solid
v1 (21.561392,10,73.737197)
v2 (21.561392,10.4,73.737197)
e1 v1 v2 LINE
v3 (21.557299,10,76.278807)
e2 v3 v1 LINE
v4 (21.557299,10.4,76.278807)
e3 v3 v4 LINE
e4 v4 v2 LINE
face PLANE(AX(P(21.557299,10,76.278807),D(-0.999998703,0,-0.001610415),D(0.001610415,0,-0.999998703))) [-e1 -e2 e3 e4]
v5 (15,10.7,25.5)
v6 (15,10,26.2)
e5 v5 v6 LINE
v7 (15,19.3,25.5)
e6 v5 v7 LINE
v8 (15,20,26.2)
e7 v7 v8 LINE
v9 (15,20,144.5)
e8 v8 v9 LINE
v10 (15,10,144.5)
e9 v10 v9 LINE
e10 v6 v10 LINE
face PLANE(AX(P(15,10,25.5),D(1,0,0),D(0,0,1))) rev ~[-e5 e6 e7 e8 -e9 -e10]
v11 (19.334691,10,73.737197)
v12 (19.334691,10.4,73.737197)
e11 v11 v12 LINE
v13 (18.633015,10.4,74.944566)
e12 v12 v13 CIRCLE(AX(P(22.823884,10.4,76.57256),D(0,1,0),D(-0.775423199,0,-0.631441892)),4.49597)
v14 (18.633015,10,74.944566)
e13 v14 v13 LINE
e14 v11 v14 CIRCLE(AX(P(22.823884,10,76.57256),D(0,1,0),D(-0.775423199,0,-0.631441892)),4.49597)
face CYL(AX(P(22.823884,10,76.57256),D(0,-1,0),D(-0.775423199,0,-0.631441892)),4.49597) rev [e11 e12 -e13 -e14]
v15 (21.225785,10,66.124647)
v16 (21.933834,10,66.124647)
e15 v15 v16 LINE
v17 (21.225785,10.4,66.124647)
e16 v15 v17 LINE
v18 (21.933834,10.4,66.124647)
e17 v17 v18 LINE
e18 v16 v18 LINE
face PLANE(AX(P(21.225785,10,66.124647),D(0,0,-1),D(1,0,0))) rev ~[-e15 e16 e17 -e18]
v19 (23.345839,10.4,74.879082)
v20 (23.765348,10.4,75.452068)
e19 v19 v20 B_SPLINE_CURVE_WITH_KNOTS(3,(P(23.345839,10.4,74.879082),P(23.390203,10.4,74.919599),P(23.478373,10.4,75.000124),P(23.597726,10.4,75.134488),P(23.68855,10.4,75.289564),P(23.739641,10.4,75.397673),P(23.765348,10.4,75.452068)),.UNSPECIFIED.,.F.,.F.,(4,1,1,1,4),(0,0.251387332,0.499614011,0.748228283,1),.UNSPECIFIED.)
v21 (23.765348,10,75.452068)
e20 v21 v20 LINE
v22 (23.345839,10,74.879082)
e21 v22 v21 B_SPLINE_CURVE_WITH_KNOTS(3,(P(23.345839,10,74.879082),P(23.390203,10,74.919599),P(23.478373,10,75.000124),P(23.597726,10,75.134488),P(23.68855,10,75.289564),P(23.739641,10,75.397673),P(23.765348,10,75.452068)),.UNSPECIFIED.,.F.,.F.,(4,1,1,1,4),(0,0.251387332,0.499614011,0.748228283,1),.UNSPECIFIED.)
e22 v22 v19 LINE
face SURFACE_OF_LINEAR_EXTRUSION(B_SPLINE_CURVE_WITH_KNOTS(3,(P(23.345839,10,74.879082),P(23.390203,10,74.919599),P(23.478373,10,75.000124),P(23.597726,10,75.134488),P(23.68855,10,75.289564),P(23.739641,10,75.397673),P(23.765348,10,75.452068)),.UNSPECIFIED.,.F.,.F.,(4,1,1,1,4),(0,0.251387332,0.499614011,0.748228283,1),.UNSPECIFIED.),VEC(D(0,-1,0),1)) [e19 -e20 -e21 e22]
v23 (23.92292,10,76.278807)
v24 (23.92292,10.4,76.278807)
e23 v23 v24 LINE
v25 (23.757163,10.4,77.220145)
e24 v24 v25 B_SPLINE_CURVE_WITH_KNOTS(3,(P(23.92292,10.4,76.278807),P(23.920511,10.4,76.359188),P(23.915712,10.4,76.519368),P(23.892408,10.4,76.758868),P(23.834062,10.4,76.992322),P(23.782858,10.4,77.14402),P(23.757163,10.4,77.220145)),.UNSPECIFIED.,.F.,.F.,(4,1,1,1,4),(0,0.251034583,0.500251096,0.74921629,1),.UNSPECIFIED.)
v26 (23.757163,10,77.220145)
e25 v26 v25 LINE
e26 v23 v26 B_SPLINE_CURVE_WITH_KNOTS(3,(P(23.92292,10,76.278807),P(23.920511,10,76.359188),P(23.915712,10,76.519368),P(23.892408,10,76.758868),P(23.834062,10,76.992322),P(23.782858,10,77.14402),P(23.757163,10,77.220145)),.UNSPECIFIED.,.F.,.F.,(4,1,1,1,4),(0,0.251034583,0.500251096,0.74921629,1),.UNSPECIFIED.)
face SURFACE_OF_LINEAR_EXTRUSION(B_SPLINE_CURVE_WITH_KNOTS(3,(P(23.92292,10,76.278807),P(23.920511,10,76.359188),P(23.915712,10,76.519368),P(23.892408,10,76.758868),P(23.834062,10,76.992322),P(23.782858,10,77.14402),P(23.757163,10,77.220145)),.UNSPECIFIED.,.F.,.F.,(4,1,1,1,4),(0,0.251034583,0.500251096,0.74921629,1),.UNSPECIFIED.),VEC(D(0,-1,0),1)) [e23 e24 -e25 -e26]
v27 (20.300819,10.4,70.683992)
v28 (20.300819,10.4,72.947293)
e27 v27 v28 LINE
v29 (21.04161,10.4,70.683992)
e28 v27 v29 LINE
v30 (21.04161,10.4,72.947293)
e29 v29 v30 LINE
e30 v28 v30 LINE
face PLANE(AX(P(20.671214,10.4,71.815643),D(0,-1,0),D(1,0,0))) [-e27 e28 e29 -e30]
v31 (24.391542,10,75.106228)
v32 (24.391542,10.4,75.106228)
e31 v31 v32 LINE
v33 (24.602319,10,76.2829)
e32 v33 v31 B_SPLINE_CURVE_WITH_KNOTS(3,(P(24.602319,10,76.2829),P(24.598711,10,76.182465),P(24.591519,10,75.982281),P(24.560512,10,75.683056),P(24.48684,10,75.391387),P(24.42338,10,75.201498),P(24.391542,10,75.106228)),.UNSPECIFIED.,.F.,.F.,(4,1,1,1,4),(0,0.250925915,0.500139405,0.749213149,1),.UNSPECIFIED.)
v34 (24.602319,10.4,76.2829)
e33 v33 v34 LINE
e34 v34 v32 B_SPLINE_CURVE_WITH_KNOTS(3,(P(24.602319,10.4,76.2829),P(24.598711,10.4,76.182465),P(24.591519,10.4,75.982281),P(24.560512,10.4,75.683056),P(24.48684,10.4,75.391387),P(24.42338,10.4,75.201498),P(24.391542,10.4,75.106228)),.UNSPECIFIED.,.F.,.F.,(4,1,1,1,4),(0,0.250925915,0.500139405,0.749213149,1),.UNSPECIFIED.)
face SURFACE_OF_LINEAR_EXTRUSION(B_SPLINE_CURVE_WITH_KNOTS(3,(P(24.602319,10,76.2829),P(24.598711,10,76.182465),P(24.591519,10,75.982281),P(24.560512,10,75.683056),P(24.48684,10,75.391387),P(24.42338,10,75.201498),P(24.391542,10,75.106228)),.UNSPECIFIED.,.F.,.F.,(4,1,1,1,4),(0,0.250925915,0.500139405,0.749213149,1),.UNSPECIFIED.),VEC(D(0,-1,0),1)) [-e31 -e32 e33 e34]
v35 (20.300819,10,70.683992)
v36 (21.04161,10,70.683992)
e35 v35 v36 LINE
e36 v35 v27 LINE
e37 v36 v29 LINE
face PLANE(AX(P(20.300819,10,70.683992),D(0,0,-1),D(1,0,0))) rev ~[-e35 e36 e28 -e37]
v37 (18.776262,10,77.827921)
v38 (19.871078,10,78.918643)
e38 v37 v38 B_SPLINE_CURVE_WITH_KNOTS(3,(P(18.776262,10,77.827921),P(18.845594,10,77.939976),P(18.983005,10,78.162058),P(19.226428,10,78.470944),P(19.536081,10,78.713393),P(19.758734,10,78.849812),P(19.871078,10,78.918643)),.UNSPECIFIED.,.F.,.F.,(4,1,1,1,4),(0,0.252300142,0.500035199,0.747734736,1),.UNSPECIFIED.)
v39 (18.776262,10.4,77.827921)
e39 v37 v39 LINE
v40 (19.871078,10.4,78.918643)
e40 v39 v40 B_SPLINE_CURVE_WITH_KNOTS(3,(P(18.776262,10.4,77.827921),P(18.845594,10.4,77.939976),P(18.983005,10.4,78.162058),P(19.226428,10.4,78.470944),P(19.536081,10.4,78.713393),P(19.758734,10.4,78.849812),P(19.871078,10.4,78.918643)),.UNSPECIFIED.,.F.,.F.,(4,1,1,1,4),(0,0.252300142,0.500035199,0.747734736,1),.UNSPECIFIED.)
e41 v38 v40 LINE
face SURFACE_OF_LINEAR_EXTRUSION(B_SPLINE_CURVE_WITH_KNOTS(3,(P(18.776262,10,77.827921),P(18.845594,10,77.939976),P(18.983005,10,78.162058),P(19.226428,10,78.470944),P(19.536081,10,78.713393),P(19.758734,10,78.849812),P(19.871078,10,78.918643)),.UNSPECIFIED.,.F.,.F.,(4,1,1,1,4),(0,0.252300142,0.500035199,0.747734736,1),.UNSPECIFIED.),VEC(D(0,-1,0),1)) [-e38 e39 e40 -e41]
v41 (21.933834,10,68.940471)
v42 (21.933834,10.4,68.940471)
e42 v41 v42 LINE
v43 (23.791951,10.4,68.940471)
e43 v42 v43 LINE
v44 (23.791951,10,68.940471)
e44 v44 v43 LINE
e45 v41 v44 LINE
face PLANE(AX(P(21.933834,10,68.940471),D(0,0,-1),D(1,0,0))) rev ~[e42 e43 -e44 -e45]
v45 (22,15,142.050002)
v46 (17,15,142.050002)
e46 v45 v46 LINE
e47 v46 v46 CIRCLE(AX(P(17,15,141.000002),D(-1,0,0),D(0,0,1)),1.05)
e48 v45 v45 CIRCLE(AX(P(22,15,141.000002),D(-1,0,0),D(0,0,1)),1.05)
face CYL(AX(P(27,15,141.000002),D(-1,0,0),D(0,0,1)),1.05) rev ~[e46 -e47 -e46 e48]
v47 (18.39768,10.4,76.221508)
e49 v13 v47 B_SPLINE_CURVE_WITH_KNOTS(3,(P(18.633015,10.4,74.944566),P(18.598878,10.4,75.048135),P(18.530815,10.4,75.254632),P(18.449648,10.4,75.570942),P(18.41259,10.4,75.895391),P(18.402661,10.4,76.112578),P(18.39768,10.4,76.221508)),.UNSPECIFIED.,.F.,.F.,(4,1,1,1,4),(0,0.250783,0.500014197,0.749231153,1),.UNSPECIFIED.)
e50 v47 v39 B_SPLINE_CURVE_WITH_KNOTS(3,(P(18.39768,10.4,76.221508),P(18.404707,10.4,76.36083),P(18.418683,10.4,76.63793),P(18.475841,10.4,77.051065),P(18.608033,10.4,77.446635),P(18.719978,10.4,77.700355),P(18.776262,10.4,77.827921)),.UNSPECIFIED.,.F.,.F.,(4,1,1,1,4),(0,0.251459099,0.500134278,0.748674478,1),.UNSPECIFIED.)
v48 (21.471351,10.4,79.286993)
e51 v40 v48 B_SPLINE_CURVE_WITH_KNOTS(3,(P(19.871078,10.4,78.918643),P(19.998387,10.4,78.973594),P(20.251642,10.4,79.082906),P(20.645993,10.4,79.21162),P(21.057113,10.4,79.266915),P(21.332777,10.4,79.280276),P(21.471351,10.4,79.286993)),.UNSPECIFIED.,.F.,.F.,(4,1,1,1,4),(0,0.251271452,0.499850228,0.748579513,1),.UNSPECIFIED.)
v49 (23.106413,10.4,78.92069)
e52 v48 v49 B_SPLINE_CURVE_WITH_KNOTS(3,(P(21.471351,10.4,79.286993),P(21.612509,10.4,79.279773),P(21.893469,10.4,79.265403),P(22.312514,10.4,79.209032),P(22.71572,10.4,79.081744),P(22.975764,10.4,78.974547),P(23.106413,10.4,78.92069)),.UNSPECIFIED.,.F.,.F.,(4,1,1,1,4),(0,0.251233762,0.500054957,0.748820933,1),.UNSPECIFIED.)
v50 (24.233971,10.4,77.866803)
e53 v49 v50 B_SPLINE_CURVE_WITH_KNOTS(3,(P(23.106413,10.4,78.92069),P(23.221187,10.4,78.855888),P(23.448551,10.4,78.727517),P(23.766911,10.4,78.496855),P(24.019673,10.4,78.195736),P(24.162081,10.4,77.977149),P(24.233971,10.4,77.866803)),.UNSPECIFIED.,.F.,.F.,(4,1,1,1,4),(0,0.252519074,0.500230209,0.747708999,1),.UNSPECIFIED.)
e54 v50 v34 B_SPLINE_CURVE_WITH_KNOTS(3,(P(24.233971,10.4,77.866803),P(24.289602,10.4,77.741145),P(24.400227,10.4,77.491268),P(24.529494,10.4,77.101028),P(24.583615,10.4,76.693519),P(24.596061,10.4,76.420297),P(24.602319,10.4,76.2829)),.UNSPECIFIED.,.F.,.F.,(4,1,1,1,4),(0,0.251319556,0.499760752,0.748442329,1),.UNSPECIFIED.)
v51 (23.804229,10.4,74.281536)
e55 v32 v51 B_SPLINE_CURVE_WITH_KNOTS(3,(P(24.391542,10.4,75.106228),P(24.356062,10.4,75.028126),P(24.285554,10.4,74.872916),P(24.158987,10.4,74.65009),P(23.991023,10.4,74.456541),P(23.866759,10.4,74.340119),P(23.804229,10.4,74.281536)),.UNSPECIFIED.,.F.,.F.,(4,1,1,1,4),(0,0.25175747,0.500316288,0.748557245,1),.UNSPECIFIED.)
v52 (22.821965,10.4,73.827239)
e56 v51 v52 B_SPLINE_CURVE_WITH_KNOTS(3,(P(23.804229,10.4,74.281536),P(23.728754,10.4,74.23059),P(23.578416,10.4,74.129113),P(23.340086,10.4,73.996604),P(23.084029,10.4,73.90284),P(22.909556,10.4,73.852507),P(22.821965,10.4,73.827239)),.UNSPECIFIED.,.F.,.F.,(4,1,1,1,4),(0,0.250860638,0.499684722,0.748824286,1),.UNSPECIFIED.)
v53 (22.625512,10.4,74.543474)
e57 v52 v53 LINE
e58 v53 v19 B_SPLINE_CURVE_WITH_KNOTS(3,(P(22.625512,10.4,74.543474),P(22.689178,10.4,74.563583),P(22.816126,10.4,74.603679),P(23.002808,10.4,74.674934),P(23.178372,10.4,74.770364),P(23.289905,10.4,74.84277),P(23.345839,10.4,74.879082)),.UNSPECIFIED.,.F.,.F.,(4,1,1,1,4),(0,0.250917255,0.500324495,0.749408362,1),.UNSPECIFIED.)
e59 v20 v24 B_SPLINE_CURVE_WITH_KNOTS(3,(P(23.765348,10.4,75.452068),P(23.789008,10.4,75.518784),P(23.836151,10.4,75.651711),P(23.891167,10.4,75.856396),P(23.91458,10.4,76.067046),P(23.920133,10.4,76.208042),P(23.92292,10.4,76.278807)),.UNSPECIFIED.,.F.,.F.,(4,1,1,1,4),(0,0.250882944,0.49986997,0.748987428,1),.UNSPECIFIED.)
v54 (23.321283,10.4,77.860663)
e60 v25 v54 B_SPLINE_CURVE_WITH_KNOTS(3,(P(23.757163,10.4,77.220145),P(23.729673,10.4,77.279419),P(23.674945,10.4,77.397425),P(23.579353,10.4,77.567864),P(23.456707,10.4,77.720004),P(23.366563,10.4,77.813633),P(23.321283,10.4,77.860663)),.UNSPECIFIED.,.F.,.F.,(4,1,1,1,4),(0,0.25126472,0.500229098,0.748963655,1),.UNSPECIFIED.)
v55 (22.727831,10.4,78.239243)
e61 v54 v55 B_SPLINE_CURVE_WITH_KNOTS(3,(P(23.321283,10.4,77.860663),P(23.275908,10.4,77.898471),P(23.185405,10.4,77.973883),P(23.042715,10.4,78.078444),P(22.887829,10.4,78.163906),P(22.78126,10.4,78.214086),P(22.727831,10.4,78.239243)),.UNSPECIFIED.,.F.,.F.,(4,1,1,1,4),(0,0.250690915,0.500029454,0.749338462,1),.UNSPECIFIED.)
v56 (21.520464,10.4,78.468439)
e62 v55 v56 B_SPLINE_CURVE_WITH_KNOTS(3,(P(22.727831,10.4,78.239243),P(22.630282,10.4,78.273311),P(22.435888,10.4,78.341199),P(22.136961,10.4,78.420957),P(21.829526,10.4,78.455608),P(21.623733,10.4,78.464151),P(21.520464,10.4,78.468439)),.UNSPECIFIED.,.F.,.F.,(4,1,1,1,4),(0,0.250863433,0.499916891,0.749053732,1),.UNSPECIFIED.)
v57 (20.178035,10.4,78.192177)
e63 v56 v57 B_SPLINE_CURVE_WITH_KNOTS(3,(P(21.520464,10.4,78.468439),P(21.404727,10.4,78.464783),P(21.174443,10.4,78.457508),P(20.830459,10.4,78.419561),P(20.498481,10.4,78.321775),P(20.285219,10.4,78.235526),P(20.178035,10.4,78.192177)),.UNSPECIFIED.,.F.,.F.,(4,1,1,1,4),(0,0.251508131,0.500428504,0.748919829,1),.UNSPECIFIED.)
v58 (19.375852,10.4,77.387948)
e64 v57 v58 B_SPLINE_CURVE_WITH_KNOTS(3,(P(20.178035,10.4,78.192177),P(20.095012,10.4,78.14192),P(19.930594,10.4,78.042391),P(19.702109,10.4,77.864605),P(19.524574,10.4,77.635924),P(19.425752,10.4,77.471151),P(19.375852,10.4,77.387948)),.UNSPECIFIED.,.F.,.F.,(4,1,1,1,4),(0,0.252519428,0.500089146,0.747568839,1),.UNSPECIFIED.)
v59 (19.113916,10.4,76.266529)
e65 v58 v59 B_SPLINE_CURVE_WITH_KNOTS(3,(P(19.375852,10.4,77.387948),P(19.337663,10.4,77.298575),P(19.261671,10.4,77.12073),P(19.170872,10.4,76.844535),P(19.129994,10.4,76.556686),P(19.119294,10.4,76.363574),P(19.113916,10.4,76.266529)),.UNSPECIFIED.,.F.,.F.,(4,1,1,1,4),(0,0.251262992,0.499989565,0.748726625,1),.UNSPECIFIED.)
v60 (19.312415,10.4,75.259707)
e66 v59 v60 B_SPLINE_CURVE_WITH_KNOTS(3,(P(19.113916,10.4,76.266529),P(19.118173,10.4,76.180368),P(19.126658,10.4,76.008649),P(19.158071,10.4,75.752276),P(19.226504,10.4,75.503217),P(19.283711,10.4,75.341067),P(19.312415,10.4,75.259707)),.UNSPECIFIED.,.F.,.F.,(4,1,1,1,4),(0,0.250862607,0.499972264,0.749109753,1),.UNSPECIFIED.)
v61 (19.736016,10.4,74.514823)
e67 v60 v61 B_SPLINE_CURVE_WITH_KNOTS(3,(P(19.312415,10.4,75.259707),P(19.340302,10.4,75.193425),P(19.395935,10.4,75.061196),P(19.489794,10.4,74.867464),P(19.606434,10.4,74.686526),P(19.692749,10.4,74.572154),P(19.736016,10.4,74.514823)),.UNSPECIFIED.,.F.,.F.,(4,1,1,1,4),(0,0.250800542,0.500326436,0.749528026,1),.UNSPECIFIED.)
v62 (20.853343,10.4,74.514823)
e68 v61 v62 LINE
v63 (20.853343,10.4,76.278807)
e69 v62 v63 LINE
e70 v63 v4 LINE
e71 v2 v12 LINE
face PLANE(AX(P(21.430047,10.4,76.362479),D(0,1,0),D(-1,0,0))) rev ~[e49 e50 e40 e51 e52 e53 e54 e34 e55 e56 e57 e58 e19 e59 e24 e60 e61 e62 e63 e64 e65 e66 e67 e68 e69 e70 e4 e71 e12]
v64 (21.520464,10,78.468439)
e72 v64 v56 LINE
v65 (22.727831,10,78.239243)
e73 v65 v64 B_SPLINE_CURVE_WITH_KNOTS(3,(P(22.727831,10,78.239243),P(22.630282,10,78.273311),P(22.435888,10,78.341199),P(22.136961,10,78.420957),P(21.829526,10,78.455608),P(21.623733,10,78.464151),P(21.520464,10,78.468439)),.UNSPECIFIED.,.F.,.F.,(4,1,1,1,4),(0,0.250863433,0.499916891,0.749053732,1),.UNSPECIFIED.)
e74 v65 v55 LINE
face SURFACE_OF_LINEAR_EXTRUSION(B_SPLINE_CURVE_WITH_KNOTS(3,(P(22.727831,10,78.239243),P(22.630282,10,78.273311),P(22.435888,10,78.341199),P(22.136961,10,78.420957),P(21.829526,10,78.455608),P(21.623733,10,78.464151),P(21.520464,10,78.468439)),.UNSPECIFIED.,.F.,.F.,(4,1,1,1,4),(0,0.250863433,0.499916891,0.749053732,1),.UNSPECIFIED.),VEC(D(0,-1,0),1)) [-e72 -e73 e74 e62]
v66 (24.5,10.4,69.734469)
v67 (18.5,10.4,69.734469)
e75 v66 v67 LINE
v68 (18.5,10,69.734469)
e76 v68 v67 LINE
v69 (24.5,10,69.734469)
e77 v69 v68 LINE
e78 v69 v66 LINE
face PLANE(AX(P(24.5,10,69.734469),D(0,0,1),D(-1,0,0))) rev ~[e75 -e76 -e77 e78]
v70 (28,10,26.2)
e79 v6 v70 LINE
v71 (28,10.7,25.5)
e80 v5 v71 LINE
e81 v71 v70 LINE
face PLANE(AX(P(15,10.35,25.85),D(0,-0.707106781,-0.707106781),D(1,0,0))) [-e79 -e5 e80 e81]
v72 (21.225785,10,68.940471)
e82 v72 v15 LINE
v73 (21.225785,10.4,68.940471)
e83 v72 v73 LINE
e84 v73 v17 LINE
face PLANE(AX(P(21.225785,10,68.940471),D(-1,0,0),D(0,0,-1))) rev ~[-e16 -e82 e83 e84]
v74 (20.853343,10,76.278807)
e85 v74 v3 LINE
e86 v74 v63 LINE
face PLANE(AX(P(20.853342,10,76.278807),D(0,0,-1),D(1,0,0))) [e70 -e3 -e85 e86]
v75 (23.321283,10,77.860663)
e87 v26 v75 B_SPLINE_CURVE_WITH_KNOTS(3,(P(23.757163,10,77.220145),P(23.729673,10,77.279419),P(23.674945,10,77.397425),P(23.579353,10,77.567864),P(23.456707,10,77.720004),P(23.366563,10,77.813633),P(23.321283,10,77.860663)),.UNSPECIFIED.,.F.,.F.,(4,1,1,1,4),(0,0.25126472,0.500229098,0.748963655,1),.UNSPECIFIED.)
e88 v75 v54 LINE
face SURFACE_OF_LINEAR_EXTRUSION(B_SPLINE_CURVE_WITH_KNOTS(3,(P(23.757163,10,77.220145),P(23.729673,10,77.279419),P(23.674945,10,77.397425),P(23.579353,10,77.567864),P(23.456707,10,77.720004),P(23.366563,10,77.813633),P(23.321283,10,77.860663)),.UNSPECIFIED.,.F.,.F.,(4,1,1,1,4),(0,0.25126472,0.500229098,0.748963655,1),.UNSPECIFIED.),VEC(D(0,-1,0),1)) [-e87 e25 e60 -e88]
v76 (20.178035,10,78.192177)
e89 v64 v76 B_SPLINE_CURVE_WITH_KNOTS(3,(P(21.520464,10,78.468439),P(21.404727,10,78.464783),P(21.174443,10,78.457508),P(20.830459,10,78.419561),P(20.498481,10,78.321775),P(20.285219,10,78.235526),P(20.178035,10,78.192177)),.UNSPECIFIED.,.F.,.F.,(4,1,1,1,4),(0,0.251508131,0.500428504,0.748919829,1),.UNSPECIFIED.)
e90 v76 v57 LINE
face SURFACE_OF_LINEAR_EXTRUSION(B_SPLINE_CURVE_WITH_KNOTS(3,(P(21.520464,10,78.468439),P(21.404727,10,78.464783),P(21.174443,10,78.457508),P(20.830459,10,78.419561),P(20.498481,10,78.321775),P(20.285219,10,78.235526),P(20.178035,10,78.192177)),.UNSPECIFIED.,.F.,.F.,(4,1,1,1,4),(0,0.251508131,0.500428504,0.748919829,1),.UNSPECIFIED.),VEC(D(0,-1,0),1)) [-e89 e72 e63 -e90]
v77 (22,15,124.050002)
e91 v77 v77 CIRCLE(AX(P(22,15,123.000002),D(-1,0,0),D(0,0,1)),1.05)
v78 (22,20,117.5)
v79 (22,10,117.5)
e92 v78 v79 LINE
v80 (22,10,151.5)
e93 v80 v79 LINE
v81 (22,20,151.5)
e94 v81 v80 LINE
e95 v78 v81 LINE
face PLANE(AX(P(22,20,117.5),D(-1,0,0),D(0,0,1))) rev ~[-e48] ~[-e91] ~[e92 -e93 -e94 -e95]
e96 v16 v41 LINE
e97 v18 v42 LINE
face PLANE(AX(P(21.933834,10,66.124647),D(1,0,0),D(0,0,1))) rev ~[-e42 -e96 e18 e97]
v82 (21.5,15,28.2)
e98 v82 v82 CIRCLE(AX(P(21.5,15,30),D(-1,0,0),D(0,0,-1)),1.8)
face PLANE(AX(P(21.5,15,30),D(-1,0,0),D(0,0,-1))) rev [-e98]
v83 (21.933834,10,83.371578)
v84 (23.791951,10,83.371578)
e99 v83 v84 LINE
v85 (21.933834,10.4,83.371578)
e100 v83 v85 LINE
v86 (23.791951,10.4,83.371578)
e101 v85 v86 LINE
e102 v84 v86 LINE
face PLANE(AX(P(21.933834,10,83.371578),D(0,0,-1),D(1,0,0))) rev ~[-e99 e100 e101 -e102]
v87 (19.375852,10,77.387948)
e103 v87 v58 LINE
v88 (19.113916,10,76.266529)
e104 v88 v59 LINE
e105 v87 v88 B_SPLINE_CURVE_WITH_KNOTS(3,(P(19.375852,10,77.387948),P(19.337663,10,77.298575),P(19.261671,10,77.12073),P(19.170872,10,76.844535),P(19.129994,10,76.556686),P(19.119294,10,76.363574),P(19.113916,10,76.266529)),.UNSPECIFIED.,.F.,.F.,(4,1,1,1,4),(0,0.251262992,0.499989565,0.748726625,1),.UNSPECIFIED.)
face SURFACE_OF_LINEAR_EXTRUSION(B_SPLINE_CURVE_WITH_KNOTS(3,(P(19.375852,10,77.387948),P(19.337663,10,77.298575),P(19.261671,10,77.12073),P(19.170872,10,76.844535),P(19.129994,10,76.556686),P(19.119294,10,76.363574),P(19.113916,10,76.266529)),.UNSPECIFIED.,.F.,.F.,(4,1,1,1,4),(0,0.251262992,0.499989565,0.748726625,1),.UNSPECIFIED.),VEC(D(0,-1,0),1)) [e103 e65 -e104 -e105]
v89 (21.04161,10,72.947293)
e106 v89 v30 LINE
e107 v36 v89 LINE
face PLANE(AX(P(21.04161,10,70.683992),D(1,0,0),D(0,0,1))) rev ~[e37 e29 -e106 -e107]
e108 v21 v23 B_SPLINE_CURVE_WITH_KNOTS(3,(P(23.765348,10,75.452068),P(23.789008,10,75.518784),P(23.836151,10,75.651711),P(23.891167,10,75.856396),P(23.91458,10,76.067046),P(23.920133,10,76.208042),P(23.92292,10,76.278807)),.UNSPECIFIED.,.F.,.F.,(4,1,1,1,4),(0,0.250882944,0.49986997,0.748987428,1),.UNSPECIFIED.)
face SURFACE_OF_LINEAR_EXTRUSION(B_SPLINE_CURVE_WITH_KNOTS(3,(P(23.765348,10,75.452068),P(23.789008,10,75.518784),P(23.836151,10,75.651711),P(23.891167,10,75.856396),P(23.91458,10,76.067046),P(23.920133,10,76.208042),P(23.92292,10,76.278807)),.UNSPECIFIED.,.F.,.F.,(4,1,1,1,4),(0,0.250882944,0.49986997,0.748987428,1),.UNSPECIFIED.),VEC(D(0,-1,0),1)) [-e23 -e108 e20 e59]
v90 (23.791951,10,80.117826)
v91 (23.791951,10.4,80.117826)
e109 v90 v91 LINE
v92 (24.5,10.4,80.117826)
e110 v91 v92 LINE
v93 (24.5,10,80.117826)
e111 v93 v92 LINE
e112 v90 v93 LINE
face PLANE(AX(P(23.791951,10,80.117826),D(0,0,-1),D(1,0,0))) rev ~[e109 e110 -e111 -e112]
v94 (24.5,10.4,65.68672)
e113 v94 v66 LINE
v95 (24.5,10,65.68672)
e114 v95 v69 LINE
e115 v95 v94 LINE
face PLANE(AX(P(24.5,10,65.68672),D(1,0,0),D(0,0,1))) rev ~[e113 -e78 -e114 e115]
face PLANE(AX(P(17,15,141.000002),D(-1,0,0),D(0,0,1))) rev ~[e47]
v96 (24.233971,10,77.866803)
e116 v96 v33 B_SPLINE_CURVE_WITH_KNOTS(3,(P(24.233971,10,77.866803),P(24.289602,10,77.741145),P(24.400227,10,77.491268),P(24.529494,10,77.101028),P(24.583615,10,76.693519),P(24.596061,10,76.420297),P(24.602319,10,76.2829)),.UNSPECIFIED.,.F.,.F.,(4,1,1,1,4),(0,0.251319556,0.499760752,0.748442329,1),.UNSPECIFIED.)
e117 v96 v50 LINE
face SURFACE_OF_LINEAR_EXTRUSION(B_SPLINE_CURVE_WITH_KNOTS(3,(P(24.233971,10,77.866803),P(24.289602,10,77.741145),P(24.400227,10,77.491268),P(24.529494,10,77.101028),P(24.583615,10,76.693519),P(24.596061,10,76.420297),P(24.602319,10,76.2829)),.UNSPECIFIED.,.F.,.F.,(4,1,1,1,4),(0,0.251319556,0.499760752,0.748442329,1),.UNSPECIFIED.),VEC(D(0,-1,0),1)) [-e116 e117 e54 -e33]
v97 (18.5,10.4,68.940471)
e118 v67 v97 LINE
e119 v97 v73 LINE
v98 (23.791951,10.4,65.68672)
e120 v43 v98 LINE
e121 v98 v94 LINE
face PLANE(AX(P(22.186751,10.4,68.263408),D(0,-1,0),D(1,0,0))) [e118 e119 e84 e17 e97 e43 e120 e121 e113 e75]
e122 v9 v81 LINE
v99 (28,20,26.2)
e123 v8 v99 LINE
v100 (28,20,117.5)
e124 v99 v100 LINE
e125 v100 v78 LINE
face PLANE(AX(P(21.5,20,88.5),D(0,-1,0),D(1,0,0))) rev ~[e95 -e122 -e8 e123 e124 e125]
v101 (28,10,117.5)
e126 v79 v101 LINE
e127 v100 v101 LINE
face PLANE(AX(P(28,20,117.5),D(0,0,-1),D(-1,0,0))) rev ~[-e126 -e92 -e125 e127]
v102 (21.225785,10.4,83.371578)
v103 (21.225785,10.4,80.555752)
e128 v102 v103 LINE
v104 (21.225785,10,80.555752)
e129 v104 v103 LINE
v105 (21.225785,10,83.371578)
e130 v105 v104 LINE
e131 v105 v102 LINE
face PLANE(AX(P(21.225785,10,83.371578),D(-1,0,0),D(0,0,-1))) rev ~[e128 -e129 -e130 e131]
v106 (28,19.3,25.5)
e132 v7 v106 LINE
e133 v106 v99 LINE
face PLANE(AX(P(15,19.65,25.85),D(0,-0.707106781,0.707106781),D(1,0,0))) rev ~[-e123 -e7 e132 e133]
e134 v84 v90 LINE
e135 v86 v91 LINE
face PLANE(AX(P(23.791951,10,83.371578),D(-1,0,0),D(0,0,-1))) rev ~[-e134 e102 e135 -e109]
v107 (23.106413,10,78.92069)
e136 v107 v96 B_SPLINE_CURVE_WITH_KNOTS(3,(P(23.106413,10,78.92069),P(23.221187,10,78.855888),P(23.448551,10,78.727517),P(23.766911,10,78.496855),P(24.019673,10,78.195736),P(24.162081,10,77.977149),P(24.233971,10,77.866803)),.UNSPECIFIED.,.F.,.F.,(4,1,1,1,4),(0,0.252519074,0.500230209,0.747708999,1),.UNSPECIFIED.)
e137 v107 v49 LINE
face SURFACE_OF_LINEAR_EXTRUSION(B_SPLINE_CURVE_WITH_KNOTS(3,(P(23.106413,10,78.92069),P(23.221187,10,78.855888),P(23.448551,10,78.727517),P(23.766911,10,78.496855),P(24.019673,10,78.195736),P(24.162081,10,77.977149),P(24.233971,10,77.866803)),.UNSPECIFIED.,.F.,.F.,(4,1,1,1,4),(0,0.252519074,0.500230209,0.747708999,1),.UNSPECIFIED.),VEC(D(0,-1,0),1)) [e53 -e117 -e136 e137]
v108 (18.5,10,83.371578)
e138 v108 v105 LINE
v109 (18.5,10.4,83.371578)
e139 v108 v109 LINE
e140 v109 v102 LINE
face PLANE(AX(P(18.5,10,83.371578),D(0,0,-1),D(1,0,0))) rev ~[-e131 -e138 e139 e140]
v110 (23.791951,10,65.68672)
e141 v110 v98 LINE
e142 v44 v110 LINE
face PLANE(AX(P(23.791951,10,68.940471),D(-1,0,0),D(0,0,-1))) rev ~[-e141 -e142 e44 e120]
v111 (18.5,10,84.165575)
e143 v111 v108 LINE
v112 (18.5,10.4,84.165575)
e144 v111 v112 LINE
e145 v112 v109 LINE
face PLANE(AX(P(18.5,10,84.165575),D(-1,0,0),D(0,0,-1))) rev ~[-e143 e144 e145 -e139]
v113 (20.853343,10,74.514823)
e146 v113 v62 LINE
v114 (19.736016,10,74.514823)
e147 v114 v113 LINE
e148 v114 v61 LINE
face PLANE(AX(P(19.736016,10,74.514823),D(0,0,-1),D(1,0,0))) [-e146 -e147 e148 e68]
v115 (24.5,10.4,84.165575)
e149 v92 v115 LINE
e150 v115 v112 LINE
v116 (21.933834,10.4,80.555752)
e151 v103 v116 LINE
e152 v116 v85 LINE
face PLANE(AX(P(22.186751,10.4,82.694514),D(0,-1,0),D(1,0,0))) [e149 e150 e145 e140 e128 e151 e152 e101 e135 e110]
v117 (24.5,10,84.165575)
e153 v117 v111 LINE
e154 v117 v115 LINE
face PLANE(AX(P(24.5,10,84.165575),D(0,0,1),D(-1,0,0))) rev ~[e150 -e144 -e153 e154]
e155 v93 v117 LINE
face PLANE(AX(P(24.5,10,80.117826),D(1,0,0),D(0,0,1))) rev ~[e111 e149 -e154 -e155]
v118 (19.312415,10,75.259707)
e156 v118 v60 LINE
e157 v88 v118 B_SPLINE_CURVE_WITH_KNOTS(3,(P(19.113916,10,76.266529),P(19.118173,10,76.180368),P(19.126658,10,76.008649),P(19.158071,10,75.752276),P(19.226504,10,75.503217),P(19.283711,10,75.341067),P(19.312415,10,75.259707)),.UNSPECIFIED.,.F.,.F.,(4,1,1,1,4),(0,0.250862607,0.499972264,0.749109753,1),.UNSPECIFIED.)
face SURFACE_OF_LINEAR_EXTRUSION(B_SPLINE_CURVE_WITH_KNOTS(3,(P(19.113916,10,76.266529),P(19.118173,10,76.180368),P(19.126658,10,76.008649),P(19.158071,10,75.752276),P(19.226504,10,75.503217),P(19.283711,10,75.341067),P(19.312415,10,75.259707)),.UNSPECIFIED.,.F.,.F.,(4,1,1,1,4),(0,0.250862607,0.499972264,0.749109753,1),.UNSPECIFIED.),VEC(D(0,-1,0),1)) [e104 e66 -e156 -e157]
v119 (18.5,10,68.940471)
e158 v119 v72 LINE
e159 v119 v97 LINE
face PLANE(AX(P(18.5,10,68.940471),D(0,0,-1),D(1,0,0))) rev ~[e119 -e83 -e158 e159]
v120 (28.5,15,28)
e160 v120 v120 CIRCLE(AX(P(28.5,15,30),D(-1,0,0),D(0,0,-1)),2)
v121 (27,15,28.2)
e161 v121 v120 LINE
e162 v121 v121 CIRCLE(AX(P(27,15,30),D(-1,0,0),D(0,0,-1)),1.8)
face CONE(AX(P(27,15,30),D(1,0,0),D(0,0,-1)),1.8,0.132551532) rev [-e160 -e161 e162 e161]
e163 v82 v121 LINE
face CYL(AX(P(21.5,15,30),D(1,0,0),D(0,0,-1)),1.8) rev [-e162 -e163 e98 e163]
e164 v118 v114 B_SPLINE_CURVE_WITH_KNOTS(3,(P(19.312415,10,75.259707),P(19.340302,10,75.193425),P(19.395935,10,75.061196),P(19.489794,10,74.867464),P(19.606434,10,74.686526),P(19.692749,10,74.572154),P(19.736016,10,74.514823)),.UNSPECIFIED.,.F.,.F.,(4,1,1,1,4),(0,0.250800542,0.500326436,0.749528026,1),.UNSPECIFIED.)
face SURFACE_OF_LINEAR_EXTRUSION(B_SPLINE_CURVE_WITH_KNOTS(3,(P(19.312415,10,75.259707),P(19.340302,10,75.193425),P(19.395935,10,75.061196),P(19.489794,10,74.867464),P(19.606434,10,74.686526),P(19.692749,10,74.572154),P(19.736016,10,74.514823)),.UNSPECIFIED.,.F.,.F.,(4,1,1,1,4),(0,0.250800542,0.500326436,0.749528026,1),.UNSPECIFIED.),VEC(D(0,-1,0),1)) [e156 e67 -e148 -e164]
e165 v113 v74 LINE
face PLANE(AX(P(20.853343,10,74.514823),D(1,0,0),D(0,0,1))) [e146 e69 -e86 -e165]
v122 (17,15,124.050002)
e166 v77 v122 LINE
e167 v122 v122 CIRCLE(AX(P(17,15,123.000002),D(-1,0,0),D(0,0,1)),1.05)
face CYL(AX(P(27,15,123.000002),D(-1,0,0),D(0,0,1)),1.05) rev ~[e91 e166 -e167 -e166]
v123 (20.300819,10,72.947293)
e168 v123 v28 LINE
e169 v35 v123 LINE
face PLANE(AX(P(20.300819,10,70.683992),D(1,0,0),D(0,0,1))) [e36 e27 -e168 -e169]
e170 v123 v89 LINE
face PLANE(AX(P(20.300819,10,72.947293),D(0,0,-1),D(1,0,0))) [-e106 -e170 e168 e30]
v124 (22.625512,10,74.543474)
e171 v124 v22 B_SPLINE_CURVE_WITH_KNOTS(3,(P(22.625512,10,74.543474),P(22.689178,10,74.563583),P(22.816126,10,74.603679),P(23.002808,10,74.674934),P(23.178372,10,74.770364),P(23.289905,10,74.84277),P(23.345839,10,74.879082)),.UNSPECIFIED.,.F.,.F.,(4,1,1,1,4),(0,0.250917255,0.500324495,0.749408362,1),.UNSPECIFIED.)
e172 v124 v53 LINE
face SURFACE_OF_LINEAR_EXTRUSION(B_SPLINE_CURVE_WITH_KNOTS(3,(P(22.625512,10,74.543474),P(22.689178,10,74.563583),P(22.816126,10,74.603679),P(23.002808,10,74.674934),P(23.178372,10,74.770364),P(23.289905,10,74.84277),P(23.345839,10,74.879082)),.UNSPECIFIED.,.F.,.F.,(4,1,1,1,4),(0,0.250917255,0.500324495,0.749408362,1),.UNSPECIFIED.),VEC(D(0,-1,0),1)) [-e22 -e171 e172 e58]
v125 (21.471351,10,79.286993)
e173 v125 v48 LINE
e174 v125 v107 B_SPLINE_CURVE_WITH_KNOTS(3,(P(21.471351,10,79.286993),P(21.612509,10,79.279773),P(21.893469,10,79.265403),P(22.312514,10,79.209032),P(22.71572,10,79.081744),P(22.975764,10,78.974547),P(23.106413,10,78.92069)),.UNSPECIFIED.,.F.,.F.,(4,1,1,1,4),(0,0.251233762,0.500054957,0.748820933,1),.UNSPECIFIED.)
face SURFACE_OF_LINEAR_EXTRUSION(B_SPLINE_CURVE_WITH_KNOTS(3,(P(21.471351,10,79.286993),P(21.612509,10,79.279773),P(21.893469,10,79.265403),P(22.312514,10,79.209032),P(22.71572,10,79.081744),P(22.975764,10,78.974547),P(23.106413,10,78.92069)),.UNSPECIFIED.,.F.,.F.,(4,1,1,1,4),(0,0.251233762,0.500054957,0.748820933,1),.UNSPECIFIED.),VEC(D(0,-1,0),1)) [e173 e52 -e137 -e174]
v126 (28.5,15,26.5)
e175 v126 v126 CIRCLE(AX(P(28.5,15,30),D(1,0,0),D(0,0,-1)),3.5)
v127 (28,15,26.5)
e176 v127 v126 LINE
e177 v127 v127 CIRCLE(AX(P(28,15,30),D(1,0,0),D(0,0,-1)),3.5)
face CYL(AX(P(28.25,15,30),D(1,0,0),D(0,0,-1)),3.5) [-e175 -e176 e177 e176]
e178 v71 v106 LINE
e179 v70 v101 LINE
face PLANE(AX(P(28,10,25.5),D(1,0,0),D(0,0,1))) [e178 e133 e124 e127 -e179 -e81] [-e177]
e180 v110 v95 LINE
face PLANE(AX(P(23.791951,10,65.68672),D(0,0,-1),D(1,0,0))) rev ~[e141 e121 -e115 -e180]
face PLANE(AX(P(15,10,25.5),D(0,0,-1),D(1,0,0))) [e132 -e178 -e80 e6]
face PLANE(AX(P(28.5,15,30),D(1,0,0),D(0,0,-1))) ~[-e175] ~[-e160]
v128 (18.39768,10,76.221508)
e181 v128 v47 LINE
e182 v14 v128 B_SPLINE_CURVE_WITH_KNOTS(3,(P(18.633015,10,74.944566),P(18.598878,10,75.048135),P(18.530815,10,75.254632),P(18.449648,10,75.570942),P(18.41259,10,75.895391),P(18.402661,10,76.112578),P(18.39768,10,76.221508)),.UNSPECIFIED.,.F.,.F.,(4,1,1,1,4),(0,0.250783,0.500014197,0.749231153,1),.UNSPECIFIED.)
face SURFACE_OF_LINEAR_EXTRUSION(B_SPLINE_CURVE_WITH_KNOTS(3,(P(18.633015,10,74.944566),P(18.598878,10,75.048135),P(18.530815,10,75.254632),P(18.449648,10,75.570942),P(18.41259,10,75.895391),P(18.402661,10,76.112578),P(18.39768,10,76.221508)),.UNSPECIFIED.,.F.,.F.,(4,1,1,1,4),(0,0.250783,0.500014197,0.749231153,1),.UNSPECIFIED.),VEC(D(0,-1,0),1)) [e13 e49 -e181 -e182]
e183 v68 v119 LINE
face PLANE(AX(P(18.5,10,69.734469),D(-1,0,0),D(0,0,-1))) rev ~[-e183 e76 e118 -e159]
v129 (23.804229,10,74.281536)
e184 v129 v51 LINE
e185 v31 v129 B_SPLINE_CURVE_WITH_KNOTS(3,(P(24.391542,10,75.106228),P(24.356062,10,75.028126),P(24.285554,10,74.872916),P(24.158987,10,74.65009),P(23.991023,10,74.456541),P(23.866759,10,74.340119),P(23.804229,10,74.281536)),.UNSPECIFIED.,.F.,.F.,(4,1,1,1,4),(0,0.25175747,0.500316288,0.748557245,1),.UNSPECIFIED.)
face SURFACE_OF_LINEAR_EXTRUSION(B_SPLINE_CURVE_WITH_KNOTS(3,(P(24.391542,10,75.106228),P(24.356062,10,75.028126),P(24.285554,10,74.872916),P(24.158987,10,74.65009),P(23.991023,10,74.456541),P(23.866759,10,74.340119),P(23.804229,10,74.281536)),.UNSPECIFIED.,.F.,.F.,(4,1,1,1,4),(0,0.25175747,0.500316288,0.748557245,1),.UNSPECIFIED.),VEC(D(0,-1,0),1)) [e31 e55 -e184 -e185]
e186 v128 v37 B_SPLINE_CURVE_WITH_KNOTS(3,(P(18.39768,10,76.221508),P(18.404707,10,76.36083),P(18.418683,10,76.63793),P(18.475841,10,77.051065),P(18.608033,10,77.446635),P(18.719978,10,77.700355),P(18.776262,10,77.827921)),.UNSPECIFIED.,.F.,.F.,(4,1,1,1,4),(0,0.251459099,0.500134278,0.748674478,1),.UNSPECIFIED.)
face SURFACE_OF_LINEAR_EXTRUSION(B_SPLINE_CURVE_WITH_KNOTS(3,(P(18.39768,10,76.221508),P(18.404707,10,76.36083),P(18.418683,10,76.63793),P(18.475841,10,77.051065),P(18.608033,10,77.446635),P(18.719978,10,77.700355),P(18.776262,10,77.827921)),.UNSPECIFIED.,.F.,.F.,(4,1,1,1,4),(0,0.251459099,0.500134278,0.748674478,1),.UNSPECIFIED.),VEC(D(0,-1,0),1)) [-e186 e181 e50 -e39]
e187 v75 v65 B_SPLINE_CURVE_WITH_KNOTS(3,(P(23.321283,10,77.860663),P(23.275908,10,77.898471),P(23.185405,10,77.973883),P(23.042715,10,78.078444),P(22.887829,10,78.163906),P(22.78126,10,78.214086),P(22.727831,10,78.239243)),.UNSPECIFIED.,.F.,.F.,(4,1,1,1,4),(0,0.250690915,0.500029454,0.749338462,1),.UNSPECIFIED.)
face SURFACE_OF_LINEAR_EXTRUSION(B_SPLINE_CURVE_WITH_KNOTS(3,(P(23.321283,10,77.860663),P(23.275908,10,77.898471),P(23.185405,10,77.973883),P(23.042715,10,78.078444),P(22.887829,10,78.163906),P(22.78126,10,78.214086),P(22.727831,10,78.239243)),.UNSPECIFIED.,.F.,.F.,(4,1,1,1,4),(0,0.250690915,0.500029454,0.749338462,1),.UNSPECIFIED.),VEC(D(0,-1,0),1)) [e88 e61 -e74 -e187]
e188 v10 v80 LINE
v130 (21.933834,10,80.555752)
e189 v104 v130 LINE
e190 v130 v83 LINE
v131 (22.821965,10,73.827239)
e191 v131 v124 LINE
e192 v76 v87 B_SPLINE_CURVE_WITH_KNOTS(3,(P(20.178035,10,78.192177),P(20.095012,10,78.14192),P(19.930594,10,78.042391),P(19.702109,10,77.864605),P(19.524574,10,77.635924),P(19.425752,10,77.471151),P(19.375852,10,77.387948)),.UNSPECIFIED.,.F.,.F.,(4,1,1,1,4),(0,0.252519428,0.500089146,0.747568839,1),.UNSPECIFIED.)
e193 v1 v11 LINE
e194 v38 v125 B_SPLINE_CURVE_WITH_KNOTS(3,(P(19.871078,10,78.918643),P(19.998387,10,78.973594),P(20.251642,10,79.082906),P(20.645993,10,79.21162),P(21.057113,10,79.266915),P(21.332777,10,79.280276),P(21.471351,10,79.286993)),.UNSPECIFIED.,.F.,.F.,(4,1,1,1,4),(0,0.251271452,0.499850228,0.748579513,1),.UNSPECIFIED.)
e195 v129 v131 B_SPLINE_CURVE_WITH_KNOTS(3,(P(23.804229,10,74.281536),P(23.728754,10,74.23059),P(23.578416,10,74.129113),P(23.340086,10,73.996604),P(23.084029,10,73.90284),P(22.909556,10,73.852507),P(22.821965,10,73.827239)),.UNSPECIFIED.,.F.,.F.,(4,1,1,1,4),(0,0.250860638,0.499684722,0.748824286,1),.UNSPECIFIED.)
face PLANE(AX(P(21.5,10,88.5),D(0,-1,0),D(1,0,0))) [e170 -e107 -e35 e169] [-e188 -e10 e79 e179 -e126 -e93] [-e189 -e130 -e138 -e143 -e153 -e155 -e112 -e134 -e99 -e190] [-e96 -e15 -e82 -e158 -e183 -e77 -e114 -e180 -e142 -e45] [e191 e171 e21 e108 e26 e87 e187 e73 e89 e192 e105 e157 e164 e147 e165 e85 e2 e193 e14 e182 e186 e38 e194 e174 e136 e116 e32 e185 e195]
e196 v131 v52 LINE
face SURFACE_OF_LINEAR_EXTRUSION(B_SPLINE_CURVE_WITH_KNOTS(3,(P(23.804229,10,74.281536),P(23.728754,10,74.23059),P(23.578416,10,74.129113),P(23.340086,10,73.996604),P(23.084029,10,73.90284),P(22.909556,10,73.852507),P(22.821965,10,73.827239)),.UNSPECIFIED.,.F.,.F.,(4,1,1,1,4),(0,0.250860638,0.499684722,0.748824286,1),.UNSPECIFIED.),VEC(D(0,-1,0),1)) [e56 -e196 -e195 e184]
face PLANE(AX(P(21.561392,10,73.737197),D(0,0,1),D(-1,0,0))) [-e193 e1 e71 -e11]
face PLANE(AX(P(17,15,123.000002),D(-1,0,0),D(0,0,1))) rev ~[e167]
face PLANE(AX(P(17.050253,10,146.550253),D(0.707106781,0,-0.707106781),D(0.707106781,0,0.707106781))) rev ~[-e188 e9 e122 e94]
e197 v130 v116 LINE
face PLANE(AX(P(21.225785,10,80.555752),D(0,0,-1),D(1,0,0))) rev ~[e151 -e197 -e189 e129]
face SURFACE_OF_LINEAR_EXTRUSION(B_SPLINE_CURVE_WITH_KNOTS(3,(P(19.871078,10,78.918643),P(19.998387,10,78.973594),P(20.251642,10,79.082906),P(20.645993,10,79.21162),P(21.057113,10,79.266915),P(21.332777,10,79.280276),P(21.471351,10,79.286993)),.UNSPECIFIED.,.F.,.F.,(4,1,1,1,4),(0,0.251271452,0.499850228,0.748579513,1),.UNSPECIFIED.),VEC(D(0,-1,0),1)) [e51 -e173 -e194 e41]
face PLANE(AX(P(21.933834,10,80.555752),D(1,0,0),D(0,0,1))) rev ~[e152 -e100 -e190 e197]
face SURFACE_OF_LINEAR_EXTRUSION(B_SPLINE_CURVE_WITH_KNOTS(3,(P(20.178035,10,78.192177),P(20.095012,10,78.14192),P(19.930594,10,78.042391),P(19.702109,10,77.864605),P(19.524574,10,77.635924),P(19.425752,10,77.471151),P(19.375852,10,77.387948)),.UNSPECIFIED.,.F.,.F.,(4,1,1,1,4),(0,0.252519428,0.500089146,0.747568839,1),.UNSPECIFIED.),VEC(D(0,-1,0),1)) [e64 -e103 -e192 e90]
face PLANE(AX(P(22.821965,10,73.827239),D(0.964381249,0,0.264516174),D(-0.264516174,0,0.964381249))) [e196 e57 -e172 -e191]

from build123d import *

# Parameters (mm, degrees)
ESQUISSE1_W                         = 13
ESQUISSE1_H                         = 126
BOSS_EXTRU_1_DEPTH                  = 10
ESQUISSE2_W                         = 6
ESQUISSE2_H                         = 34
ENL_V_MAT_EXTRU_1_DEPTH             = 155.389928428
ENL_V_START                         = 1.2
ENL_V_MAT_EXTRU_2_DEPTH             = 0.4
ENL_V_MAT_EXTRU_3_DEPTH             = 0.4
ENL_V_MAT_EXTRU_4_DEPTH             = 0.4
ESQUISSE6_W                         = 0.740791559
ESQUISSE6_H                         = 2.263300419
ENL_V_MAT_EXTRU_5_DEPTH             = 0.4
D_POUILLE1_ANGLE                    = -0.092269995
D_POUILLE2_ANGLE                    = 0.092269995
D_POUILLE3_ANGLE                    = -45
ESQUISSE7_W                         = 0.5
ESQUISSE7_H                         = 3.5
DIAM_TRE_DU_PER_AGE_2_1_2_1_1_D     = 2.1
DIAM_TRE_DU_PER_AGE_2_1_2_1_1_DEPTH = 5
CHANFREIN1_SIZE                     = 0.7


with BuildPart() as part:
    # Esquisse1 → Boss.-Extru.1 (new body)
    with BuildSketch(Plane.XZ.offset(-10)):
        with Locations((21.5, 88.5)):
            Rectangle(ESQUISSE1_W, ESQUISSE1_H)
    extrude(amount=-BOSS_EXTRU_1_DEPTH)

    # Esquisse2 → Enlèv. mat.-Extru.1 (cut, through all)
    with BuildSketch(Plane(origin=(0, 20, 0), x_dir=(-1, 0, 0), z_dir=(0, 1, 0))):
        with Locations((-25, 134.5)):
            Rectangle(ESQUISSE2_W, ESQUISSE2_H)
    extrude(amount=-ENL_V_MAT_EXTRU_1_DEPTH, mode=Mode.SUBTRACT)

    # Esquisse3 → Enlèv. mat.-Extru.2 (cut)
    with BuildSketch(Plane.XZ.offset(-11.2).offset(ENL_V_START)):
        with BuildLine():
            Line((20.853342891, 76.277673701), (21.557298779, 76.278807363))
            Line((21.557298779, 76.278807363), (21.56139183, 73.73719736))
            Line((21.56139183, 73.73719736), (19.337604377, 73.733616136))
            ThreePointArc((19.337604377, 73.733616136), (18.937851016, 74.311477162), (18.633015037, 74.944565734))
            add(Edge.make_bspline(
                [(18.633015037, 74.944565734), (18.598877989, 75.048134715), (18.530815128, 75.254631808), (18.449647927, 75.570941889), (18.41259048, 75.895390829), (18.402660702, 76.11257772), (18.397680402, 76.221508226)],
                knots=[0, 0, 0, 0, 0.250783, 0.500014197, 0.749231153, 1, 1, 1, 1], degree=3))
            add(Edge.make_bspline(
                [(18.397680402, 76.221508226), (18.404707316, 76.360829639), (18.418683348, 76.637930028), (18.475840729, 77.051065085), (18.608033081, 77.446634686), (18.719977562, 77.700354542), (18.776261687, 77.827921352)],
                knots=[0, 0, 0, 0, 0.251459099, 0.500134278, 0.748674478, 1, 1, 1, 1], degree=3))
            add(Edge.make_bspline(
                [(18.776261687, 77.827921352), (18.845594133, 77.939975948), (18.983004533, 78.16205764), (19.226428261, 78.470943979), (19.536080689, 78.713393436), (19.758734474, 78.849811508), (19.871078014, 78.918643436)],
                knots=[0, 0, 0, 0, 0.252300142, 0.500035199, 0.747734736, 1, 1, 1, 1], degree=3))
            add(Edge.make_bspline(
                [(19.871078014, 78.918643436), (19.998387452, 78.973593805), (20.251642055, 79.082905685), (20.645993091, 79.211619983), (21.057113166, 79.266914711), (21.332777469, 79.280276264), (21.471351266, 79.286992988)],
                knots=[0, 0, 0, 0, 0.251271452, 0.499850228, 0.748579513, 1, 1, 1, 1], degree=3))
            add(Edge.make_bspline(
                [(21.471351266, 79.286992988), (21.61250902, 79.279773241), (21.893469007, 79.265403078), (22.312514038, 79.209031831), (22.7157204, 79.081743941), (22.975763595, 78.974547289), (23.106412768, 78.920690259)],
                knots=[0, 0, 0, 0, 0.251233762, 0.500054957, 0.748820933, 1, 1, 1, 1], degree=3))
            add(Edge.make_bspline(
                [(23.106412768, 78.920690259), (23.221187424, 78.855887896), (23.448551437, 78.727517), (23.766911077, 78.49685491), (24.019672726, 78.19573618), (24.162080848, 77.977148745), (24.233970523, 77.866802654)],
                knots=[0, 0, 0, 0, 0.252519074, 0.500230209, 0.747708999, 1, 1, 1, 1], degree=3))
            add(Edge.make_bspline(
                [(24.233970523, 77.866802654), (24.289601824, 77.74114466), (24.400227282, 77.491267832), (24.529493504, 77.101027909), (24.583614751, 76.693519205), (24.596060717, 76.420296572), (24.602319479, 76.282899818)],
                knots=[0, 0, 0, 0, 0.251319556, 0.499760752, 0.748442329, 1, 1, 1, 1], degree=3))
            add(Edge.make_bspline(
                [(24.602319479, 76.282899818), (24.598711263, 76.182464999), (24.591519454, 75.982280772), (24.56051168, 75.683056166), (24.48684006, 75.391387004), (24.423380488, 75.201497819), (24.391541958, 75.106227836)],
                knots=[0, 0, 0, 0, 0.250925915, 0.500139405, 0.749213149, 1, 1, 1, 1], degree=3))
            add(Edge.make_bspline(
                [(24.391541958, 75.106227836), (24.356062424, 75.028126494), (24.285554136, 74.87291611), (24.15898731, 74.650089551), (23.991023414, 74.45654053), (23.86675947, 74.34011923), (23.804229379, 74.281535587)],
                knots=[0, 0, 0, 0, 0.25175747, 0.500316288, 0.748557245, 1, 1, 1, 1], degree=3))
            add(Edge.make_bspline(
                [(23.804229379, 74.281535587), (23.728753924, 74.230590324), (23.578415746, 74.129113387), (23.340086032, 73.996604052), (23.084028963, 73.902840483), (22.909556406, 73.852507456), (22.821965098, 73.827238521)],
                knots=[0, 0, 0, 0, 0.250860638, 0.499684722, 0.748824286, 1, 1, 1, 1], degree=3))
            Line((22.821965098, 73.827238521), (22.625511765, 74.543474159))
            add(Edge.make_bspline(
                [(22.625511765, 74.543474159), (22.689177507, 74.563582686), (22.816125851, 74.603678729), (23.002808274, 74.674933967), (23.178371642, 74.770364118), (23.289904539, 74.84276967), (23.345839262, 74.879081687)],
                knots=[0, 0, 0, 0, 0.250917255, 0.500324495, 0.749408362, 1, 1, 1, 1], degree=3))
            add(Edge.make_bspline(
                [(23.345839262, 74.879081687), (23.390203046, 74.919598808), (23.478372835, 75.000123634), (23.597726044, 75.134487648), (23.688549595, 75.289563684), (23.73964112, 75.397672698), (23.765348077, 75.45206829)],
                knots=[0, 0, 0, 0, 0.251387332, 0.499614011, 0.748228283, 1, 1, 1, 1], degree=3))
            add(Edge.make_bspline(
                [(23.765348077, 75.45206829), (23.789008491, 75.518784077), (23.836150518, 75.651711479), (23.891167257, 75.856395572), (23.914580183, 76.067045865), (23.920133119, 76.208042107), (23.922920108, 76.278807363)],
                knots=[0, 0, 0, 0, 0.250882944, 0.49986997, 0.748987428, 1, 1, 1, 1], degree=3))
            add(Edge.make_bspline(
                [(23.922920108, 76.278807363), (23.920511452, 76.359188387), (23.915711583, 76.519368292), (23.89240824, 76.758868036), (23.834062357, 76.992322036), (23.782857942, 77.144019816), (23.757162571, 77.22014471)],
                knots=[0, 0, 0, 0, 0.251034583, 0.500251096, 0.74921629, 1, 1, 1, 1], degree=3))
            add(Edge.make_bspline(
                [(23.757162571, 77.22014471), (23.729672868, 77.279418984), (23.674945132, 77.397424872), (23.579353438, 77.56786432), (23.456707319, 77.720003547), (23.366562662, 77.813633023), (23.321282744, 77.860663375)],
                knots=[0, 0, 0, 0, 0.25126472, 0.500229098, 0.748963655, 1, 1, 1, 1], degree=3))
            add(Edge.make_bspline(
                [(23.321282744, 77.860663375), (23.275908475, 77.898471307), (23.185404712, 77.973883213), (23.042714988, 78.078444046), (22.887828988, 78.163906132), (22.781260082, 78.214085774), (22.727831483, 78.239243469)],
                knots=[0, 0, 0, 0, 0.250690915, 0.500029454, 0.749338462, 1, 1, 1, 1], degree=3))
            add(Edge.make_bspline(
                [(22.727831483, 78.239243469), (22.630282244, 78.273310635), (22.435887582, 78.341199173), (22.136961191, 78.420956742), (21.82952565, 78.455607579), (21.623732954, 78.464151438), (21.520464301, 78.468438825)],
                knots=[0, 0, 0, 0, 0.250863433, 0.499916891, 0.749053732, 1, 1, 1, 1], degree=3))
            add(Edge.make_bspline(
                [(21.520464301, 78.468438825), (21.404727069, 78.464782543), (21.17444342, 78.457507597), (20.830459066, 78.41956085), (20.498481034, 78.321775426), (20.285218981, 78.235525632), (20.178035378, 78.192177257)],
                knots=[0, 0, 0, 0, 0.251508131, 0.500428504, 0.748919829, 1, 1, 1, 1], degree=3))
            add(Edge.make_bspline(
                [(20.178035378, 78.192177257), (20.095012391, 78.141920052), (19.930593774, 78.042390751), (19.702109128, 77.864604869), (19.524573648, 77.635924233), (19.425752299, 77.47115107), (19.375852227, 77.387948474)],
                knots=[0, 0, 0, 0, 0.252519428, 0.500089146, 0.747568839, 1, 1, 1, 1], degree=3))
            add(Edge.make_bspline(
                [(19.375852227, 77.387948474), (19.337663327, 77.298574803), (19.261671031, 77.120729659), (19.170871606, 76.844534828), (19.129994348, 76.556685787), (19.119293569, 76.36357432), (19.113916039, 76.266528806)],
                knots=[0, 0, 0, 0, 0.251262992, 0.499989565, 0.748726625, 1, 1, 1, 1], degree=3))
            add(Edge.make_bspline(
                [(19.113916039, 76.266528806), (19.118173223, 76.18036823), (19.126657842, 76.008649142), (19.158071405, 75.752276351), (19.226503664, 75.503216877), (19.283711047, 75.341066696), (19.312415004, 75.259707412)],
                knots=[0, 0, 0, 0, 0.250862607, 0.499972264, 0.749109753, 1, 1, 1, 1], degree=3))
            add(Edge.make_bspline(
                [(19.312415004, 75.259707412), (19.340302347, 75.193424583), (19.3959353, 75.061195796), (19.489793739, 74.867464161), (19.606433607, 74.686525861), (19.692748901, 74.572154479), (19.736016273, 74.514823398)],
                knots=[0, 0, 0, 0, 0.250800542, 0.500326436, 0.749528026, 1, 1, 1, 1], degree=3))
            Line((19.736016273, 74.514823398), (20.853342891, 74.514823398))
            Line((20.853342891, 74.514823398), (20.853342891, 76.277673701))
        make_face()
    extrude(amount=-ENL_V_MAT_EXTRU_2_DEPTH, mode=Mode.SUBTRACT)

    # Esquisse4 → Enlèv. mat.-Extru.3 (cut)
    with BuildSketch(Plane.XZ.offset(-10)):
        Polygon((24.500000358, 84.16557475), (18.500000119, 84.16557475), (18.500000119, 83.371577701), (21.225784898, 83.371577701), (21.225784898, 80.555751762), (21.933833838, 80.555751762), (21.933833838, 83.371577701), (23.791950822, 83.371577701), (23.791950822, 80.117825708), (24.500000358, 80.117825708), align=None)
    extrude(amount=-ENL_V_MAT_EXTRU_3_DEPTH, mode=Mode.SUBTRACT)

    # Esquisse5 → Enlèv. mat.-Extru.4 (cut)
    with BuildSketch(Plane.XZ.offset(-10)):
        Polygon((24.500000358, 69.734468898), (18.500000119, 69.734468898), (18.500000119, 68.940470657), (21.225784898, 68.940470657), (21.225784898, 66.124647102), (21.933833838, 66.124647102), (21.933833838, 68.940470657), (23.791950822, 68.940470657), (23.791950822, 65.686719856), (24.500000358, 65.686719856), align=None)
    extrude(amount=-ENL_V_MAT_EXTRU_4_DEPTH, mode=Mode.SUBTRACT)

    # Esquisse6 → Enlèv. mat.-Extru.5 (cut)
    with BuildSketch(Plane.XZ.offset(-10)):
        with Locations((20.671214343, 71.815642556)):
            Rectangle(ESQUISSE6_W, ESQUISSE6_H)
    extrude(amount=-ENL_V_MAT_EXTRU_5_DEPTH, mode=Mode.SUBTRACT)

    # Dépouille1
    d_pouille1_faces = [part.faces().sort_by_distance(p)[0] for p in [
        (20.449498104, 10.2, 73.735406748),
    ]]
    draft(d_pouille1_faces, Plane(origin=(21.680083212, 10.4, 0.034913966), x_dir=(0.0016104145188022617, 0, -0.9999987032816982), z_dir=(-0.9999987032816982, 0, -0.0016104145188022617)), D_POUILLE1_ANGLE)

    # Dépouille2
    d_pouille2_faces = [part.faces().sort_by_distance(p)[0] for p in [
        (21.205320835, 10.2, 76.278240532),
    ]]
    draft(d_pouille2_faces, Plane(origin=(21.680083212, 10.4, 0.034913966), x_dir=(0.0016104145188022617, 0, -0.9999987032816982), z_dir=(-0.9999987032816982, 0, -0.0016104145188022617)), D_POUILLE2_ANGLE)

    # Dépouille3
    d_pouille3_faces = [part.faces().sort_by_distance(p)[0] for p in [
        (18.5, 15, 151.5),
    ]]
    draft(d_pouille3_faces, Plane(origin=(22, 10, 117.5), x_dir=(0, 0, 1), z_dir=(1, 0, 0)), D_POUILLE3_ANGLE)

    # Esquisse7 → Révolution1 (revolve)
    with BuildSketch(Plane.XY.offset(30.000000447), mode=Mode.PRIVATE) as r_volution1_sk:
        with Locations((28.25, 16.750000224)):
            Rectangle(ESQUISSE7_W, ESQUISSE7_H)
    revolve(r_volution1_sk.sketch.rotate(Axis((28, 15.000000224, 30.000000447), (1, 0, 0)), 270), axis=Axis((28, 15.000000224, 30.000000447), (1, 0, 0)))

    # Esquisse8 → Fraisage pour vis à tête fraisée M31 (revolve, cut)
    with BuildSketch(Plane(origin=(28.5, 15.000000224, 30.000000447), x_dir=(0, 0, -1), z_dir=(0, 1, 0))):
        Polygon((0, 0), (0, 7), (1.8, 7), (1.8, 1.5), (2, 0), align=None)
    revolve(axis=Axis((34.85, 15.000000224, 30.000000447), (-1, 0, 0)), mode=Mode.SUBTRACT)

    # Diamètre du perçage Ø2.1 (2.1)1
    with Locations(Plane(origin=(22, 0, 0), x_dir=(0, 0, -1), z_dir=(1, 0, 0))):
        with Locations((-141.000001952, 15.000000224), (-123.000001684, 15.000000224)):
            Hole(DIAM_TRE_DU_PER_AGE_2_1_2_1_1_D / 2, depth=DIAM_TRE_DU_PER_AGE_2_1_2_1_1_DEPTH)

    # Chanfrein1
    chanfrein1_edges = [part.edges().sort_by_distance(p)[0] for p in [
        (21.5, 20, 25.5),
        (21.5, 10, 25.5),
    ]]
    chamfer(chanfrein1_edges, length=CHANFREIN1_SIZE)


solid = part.part
